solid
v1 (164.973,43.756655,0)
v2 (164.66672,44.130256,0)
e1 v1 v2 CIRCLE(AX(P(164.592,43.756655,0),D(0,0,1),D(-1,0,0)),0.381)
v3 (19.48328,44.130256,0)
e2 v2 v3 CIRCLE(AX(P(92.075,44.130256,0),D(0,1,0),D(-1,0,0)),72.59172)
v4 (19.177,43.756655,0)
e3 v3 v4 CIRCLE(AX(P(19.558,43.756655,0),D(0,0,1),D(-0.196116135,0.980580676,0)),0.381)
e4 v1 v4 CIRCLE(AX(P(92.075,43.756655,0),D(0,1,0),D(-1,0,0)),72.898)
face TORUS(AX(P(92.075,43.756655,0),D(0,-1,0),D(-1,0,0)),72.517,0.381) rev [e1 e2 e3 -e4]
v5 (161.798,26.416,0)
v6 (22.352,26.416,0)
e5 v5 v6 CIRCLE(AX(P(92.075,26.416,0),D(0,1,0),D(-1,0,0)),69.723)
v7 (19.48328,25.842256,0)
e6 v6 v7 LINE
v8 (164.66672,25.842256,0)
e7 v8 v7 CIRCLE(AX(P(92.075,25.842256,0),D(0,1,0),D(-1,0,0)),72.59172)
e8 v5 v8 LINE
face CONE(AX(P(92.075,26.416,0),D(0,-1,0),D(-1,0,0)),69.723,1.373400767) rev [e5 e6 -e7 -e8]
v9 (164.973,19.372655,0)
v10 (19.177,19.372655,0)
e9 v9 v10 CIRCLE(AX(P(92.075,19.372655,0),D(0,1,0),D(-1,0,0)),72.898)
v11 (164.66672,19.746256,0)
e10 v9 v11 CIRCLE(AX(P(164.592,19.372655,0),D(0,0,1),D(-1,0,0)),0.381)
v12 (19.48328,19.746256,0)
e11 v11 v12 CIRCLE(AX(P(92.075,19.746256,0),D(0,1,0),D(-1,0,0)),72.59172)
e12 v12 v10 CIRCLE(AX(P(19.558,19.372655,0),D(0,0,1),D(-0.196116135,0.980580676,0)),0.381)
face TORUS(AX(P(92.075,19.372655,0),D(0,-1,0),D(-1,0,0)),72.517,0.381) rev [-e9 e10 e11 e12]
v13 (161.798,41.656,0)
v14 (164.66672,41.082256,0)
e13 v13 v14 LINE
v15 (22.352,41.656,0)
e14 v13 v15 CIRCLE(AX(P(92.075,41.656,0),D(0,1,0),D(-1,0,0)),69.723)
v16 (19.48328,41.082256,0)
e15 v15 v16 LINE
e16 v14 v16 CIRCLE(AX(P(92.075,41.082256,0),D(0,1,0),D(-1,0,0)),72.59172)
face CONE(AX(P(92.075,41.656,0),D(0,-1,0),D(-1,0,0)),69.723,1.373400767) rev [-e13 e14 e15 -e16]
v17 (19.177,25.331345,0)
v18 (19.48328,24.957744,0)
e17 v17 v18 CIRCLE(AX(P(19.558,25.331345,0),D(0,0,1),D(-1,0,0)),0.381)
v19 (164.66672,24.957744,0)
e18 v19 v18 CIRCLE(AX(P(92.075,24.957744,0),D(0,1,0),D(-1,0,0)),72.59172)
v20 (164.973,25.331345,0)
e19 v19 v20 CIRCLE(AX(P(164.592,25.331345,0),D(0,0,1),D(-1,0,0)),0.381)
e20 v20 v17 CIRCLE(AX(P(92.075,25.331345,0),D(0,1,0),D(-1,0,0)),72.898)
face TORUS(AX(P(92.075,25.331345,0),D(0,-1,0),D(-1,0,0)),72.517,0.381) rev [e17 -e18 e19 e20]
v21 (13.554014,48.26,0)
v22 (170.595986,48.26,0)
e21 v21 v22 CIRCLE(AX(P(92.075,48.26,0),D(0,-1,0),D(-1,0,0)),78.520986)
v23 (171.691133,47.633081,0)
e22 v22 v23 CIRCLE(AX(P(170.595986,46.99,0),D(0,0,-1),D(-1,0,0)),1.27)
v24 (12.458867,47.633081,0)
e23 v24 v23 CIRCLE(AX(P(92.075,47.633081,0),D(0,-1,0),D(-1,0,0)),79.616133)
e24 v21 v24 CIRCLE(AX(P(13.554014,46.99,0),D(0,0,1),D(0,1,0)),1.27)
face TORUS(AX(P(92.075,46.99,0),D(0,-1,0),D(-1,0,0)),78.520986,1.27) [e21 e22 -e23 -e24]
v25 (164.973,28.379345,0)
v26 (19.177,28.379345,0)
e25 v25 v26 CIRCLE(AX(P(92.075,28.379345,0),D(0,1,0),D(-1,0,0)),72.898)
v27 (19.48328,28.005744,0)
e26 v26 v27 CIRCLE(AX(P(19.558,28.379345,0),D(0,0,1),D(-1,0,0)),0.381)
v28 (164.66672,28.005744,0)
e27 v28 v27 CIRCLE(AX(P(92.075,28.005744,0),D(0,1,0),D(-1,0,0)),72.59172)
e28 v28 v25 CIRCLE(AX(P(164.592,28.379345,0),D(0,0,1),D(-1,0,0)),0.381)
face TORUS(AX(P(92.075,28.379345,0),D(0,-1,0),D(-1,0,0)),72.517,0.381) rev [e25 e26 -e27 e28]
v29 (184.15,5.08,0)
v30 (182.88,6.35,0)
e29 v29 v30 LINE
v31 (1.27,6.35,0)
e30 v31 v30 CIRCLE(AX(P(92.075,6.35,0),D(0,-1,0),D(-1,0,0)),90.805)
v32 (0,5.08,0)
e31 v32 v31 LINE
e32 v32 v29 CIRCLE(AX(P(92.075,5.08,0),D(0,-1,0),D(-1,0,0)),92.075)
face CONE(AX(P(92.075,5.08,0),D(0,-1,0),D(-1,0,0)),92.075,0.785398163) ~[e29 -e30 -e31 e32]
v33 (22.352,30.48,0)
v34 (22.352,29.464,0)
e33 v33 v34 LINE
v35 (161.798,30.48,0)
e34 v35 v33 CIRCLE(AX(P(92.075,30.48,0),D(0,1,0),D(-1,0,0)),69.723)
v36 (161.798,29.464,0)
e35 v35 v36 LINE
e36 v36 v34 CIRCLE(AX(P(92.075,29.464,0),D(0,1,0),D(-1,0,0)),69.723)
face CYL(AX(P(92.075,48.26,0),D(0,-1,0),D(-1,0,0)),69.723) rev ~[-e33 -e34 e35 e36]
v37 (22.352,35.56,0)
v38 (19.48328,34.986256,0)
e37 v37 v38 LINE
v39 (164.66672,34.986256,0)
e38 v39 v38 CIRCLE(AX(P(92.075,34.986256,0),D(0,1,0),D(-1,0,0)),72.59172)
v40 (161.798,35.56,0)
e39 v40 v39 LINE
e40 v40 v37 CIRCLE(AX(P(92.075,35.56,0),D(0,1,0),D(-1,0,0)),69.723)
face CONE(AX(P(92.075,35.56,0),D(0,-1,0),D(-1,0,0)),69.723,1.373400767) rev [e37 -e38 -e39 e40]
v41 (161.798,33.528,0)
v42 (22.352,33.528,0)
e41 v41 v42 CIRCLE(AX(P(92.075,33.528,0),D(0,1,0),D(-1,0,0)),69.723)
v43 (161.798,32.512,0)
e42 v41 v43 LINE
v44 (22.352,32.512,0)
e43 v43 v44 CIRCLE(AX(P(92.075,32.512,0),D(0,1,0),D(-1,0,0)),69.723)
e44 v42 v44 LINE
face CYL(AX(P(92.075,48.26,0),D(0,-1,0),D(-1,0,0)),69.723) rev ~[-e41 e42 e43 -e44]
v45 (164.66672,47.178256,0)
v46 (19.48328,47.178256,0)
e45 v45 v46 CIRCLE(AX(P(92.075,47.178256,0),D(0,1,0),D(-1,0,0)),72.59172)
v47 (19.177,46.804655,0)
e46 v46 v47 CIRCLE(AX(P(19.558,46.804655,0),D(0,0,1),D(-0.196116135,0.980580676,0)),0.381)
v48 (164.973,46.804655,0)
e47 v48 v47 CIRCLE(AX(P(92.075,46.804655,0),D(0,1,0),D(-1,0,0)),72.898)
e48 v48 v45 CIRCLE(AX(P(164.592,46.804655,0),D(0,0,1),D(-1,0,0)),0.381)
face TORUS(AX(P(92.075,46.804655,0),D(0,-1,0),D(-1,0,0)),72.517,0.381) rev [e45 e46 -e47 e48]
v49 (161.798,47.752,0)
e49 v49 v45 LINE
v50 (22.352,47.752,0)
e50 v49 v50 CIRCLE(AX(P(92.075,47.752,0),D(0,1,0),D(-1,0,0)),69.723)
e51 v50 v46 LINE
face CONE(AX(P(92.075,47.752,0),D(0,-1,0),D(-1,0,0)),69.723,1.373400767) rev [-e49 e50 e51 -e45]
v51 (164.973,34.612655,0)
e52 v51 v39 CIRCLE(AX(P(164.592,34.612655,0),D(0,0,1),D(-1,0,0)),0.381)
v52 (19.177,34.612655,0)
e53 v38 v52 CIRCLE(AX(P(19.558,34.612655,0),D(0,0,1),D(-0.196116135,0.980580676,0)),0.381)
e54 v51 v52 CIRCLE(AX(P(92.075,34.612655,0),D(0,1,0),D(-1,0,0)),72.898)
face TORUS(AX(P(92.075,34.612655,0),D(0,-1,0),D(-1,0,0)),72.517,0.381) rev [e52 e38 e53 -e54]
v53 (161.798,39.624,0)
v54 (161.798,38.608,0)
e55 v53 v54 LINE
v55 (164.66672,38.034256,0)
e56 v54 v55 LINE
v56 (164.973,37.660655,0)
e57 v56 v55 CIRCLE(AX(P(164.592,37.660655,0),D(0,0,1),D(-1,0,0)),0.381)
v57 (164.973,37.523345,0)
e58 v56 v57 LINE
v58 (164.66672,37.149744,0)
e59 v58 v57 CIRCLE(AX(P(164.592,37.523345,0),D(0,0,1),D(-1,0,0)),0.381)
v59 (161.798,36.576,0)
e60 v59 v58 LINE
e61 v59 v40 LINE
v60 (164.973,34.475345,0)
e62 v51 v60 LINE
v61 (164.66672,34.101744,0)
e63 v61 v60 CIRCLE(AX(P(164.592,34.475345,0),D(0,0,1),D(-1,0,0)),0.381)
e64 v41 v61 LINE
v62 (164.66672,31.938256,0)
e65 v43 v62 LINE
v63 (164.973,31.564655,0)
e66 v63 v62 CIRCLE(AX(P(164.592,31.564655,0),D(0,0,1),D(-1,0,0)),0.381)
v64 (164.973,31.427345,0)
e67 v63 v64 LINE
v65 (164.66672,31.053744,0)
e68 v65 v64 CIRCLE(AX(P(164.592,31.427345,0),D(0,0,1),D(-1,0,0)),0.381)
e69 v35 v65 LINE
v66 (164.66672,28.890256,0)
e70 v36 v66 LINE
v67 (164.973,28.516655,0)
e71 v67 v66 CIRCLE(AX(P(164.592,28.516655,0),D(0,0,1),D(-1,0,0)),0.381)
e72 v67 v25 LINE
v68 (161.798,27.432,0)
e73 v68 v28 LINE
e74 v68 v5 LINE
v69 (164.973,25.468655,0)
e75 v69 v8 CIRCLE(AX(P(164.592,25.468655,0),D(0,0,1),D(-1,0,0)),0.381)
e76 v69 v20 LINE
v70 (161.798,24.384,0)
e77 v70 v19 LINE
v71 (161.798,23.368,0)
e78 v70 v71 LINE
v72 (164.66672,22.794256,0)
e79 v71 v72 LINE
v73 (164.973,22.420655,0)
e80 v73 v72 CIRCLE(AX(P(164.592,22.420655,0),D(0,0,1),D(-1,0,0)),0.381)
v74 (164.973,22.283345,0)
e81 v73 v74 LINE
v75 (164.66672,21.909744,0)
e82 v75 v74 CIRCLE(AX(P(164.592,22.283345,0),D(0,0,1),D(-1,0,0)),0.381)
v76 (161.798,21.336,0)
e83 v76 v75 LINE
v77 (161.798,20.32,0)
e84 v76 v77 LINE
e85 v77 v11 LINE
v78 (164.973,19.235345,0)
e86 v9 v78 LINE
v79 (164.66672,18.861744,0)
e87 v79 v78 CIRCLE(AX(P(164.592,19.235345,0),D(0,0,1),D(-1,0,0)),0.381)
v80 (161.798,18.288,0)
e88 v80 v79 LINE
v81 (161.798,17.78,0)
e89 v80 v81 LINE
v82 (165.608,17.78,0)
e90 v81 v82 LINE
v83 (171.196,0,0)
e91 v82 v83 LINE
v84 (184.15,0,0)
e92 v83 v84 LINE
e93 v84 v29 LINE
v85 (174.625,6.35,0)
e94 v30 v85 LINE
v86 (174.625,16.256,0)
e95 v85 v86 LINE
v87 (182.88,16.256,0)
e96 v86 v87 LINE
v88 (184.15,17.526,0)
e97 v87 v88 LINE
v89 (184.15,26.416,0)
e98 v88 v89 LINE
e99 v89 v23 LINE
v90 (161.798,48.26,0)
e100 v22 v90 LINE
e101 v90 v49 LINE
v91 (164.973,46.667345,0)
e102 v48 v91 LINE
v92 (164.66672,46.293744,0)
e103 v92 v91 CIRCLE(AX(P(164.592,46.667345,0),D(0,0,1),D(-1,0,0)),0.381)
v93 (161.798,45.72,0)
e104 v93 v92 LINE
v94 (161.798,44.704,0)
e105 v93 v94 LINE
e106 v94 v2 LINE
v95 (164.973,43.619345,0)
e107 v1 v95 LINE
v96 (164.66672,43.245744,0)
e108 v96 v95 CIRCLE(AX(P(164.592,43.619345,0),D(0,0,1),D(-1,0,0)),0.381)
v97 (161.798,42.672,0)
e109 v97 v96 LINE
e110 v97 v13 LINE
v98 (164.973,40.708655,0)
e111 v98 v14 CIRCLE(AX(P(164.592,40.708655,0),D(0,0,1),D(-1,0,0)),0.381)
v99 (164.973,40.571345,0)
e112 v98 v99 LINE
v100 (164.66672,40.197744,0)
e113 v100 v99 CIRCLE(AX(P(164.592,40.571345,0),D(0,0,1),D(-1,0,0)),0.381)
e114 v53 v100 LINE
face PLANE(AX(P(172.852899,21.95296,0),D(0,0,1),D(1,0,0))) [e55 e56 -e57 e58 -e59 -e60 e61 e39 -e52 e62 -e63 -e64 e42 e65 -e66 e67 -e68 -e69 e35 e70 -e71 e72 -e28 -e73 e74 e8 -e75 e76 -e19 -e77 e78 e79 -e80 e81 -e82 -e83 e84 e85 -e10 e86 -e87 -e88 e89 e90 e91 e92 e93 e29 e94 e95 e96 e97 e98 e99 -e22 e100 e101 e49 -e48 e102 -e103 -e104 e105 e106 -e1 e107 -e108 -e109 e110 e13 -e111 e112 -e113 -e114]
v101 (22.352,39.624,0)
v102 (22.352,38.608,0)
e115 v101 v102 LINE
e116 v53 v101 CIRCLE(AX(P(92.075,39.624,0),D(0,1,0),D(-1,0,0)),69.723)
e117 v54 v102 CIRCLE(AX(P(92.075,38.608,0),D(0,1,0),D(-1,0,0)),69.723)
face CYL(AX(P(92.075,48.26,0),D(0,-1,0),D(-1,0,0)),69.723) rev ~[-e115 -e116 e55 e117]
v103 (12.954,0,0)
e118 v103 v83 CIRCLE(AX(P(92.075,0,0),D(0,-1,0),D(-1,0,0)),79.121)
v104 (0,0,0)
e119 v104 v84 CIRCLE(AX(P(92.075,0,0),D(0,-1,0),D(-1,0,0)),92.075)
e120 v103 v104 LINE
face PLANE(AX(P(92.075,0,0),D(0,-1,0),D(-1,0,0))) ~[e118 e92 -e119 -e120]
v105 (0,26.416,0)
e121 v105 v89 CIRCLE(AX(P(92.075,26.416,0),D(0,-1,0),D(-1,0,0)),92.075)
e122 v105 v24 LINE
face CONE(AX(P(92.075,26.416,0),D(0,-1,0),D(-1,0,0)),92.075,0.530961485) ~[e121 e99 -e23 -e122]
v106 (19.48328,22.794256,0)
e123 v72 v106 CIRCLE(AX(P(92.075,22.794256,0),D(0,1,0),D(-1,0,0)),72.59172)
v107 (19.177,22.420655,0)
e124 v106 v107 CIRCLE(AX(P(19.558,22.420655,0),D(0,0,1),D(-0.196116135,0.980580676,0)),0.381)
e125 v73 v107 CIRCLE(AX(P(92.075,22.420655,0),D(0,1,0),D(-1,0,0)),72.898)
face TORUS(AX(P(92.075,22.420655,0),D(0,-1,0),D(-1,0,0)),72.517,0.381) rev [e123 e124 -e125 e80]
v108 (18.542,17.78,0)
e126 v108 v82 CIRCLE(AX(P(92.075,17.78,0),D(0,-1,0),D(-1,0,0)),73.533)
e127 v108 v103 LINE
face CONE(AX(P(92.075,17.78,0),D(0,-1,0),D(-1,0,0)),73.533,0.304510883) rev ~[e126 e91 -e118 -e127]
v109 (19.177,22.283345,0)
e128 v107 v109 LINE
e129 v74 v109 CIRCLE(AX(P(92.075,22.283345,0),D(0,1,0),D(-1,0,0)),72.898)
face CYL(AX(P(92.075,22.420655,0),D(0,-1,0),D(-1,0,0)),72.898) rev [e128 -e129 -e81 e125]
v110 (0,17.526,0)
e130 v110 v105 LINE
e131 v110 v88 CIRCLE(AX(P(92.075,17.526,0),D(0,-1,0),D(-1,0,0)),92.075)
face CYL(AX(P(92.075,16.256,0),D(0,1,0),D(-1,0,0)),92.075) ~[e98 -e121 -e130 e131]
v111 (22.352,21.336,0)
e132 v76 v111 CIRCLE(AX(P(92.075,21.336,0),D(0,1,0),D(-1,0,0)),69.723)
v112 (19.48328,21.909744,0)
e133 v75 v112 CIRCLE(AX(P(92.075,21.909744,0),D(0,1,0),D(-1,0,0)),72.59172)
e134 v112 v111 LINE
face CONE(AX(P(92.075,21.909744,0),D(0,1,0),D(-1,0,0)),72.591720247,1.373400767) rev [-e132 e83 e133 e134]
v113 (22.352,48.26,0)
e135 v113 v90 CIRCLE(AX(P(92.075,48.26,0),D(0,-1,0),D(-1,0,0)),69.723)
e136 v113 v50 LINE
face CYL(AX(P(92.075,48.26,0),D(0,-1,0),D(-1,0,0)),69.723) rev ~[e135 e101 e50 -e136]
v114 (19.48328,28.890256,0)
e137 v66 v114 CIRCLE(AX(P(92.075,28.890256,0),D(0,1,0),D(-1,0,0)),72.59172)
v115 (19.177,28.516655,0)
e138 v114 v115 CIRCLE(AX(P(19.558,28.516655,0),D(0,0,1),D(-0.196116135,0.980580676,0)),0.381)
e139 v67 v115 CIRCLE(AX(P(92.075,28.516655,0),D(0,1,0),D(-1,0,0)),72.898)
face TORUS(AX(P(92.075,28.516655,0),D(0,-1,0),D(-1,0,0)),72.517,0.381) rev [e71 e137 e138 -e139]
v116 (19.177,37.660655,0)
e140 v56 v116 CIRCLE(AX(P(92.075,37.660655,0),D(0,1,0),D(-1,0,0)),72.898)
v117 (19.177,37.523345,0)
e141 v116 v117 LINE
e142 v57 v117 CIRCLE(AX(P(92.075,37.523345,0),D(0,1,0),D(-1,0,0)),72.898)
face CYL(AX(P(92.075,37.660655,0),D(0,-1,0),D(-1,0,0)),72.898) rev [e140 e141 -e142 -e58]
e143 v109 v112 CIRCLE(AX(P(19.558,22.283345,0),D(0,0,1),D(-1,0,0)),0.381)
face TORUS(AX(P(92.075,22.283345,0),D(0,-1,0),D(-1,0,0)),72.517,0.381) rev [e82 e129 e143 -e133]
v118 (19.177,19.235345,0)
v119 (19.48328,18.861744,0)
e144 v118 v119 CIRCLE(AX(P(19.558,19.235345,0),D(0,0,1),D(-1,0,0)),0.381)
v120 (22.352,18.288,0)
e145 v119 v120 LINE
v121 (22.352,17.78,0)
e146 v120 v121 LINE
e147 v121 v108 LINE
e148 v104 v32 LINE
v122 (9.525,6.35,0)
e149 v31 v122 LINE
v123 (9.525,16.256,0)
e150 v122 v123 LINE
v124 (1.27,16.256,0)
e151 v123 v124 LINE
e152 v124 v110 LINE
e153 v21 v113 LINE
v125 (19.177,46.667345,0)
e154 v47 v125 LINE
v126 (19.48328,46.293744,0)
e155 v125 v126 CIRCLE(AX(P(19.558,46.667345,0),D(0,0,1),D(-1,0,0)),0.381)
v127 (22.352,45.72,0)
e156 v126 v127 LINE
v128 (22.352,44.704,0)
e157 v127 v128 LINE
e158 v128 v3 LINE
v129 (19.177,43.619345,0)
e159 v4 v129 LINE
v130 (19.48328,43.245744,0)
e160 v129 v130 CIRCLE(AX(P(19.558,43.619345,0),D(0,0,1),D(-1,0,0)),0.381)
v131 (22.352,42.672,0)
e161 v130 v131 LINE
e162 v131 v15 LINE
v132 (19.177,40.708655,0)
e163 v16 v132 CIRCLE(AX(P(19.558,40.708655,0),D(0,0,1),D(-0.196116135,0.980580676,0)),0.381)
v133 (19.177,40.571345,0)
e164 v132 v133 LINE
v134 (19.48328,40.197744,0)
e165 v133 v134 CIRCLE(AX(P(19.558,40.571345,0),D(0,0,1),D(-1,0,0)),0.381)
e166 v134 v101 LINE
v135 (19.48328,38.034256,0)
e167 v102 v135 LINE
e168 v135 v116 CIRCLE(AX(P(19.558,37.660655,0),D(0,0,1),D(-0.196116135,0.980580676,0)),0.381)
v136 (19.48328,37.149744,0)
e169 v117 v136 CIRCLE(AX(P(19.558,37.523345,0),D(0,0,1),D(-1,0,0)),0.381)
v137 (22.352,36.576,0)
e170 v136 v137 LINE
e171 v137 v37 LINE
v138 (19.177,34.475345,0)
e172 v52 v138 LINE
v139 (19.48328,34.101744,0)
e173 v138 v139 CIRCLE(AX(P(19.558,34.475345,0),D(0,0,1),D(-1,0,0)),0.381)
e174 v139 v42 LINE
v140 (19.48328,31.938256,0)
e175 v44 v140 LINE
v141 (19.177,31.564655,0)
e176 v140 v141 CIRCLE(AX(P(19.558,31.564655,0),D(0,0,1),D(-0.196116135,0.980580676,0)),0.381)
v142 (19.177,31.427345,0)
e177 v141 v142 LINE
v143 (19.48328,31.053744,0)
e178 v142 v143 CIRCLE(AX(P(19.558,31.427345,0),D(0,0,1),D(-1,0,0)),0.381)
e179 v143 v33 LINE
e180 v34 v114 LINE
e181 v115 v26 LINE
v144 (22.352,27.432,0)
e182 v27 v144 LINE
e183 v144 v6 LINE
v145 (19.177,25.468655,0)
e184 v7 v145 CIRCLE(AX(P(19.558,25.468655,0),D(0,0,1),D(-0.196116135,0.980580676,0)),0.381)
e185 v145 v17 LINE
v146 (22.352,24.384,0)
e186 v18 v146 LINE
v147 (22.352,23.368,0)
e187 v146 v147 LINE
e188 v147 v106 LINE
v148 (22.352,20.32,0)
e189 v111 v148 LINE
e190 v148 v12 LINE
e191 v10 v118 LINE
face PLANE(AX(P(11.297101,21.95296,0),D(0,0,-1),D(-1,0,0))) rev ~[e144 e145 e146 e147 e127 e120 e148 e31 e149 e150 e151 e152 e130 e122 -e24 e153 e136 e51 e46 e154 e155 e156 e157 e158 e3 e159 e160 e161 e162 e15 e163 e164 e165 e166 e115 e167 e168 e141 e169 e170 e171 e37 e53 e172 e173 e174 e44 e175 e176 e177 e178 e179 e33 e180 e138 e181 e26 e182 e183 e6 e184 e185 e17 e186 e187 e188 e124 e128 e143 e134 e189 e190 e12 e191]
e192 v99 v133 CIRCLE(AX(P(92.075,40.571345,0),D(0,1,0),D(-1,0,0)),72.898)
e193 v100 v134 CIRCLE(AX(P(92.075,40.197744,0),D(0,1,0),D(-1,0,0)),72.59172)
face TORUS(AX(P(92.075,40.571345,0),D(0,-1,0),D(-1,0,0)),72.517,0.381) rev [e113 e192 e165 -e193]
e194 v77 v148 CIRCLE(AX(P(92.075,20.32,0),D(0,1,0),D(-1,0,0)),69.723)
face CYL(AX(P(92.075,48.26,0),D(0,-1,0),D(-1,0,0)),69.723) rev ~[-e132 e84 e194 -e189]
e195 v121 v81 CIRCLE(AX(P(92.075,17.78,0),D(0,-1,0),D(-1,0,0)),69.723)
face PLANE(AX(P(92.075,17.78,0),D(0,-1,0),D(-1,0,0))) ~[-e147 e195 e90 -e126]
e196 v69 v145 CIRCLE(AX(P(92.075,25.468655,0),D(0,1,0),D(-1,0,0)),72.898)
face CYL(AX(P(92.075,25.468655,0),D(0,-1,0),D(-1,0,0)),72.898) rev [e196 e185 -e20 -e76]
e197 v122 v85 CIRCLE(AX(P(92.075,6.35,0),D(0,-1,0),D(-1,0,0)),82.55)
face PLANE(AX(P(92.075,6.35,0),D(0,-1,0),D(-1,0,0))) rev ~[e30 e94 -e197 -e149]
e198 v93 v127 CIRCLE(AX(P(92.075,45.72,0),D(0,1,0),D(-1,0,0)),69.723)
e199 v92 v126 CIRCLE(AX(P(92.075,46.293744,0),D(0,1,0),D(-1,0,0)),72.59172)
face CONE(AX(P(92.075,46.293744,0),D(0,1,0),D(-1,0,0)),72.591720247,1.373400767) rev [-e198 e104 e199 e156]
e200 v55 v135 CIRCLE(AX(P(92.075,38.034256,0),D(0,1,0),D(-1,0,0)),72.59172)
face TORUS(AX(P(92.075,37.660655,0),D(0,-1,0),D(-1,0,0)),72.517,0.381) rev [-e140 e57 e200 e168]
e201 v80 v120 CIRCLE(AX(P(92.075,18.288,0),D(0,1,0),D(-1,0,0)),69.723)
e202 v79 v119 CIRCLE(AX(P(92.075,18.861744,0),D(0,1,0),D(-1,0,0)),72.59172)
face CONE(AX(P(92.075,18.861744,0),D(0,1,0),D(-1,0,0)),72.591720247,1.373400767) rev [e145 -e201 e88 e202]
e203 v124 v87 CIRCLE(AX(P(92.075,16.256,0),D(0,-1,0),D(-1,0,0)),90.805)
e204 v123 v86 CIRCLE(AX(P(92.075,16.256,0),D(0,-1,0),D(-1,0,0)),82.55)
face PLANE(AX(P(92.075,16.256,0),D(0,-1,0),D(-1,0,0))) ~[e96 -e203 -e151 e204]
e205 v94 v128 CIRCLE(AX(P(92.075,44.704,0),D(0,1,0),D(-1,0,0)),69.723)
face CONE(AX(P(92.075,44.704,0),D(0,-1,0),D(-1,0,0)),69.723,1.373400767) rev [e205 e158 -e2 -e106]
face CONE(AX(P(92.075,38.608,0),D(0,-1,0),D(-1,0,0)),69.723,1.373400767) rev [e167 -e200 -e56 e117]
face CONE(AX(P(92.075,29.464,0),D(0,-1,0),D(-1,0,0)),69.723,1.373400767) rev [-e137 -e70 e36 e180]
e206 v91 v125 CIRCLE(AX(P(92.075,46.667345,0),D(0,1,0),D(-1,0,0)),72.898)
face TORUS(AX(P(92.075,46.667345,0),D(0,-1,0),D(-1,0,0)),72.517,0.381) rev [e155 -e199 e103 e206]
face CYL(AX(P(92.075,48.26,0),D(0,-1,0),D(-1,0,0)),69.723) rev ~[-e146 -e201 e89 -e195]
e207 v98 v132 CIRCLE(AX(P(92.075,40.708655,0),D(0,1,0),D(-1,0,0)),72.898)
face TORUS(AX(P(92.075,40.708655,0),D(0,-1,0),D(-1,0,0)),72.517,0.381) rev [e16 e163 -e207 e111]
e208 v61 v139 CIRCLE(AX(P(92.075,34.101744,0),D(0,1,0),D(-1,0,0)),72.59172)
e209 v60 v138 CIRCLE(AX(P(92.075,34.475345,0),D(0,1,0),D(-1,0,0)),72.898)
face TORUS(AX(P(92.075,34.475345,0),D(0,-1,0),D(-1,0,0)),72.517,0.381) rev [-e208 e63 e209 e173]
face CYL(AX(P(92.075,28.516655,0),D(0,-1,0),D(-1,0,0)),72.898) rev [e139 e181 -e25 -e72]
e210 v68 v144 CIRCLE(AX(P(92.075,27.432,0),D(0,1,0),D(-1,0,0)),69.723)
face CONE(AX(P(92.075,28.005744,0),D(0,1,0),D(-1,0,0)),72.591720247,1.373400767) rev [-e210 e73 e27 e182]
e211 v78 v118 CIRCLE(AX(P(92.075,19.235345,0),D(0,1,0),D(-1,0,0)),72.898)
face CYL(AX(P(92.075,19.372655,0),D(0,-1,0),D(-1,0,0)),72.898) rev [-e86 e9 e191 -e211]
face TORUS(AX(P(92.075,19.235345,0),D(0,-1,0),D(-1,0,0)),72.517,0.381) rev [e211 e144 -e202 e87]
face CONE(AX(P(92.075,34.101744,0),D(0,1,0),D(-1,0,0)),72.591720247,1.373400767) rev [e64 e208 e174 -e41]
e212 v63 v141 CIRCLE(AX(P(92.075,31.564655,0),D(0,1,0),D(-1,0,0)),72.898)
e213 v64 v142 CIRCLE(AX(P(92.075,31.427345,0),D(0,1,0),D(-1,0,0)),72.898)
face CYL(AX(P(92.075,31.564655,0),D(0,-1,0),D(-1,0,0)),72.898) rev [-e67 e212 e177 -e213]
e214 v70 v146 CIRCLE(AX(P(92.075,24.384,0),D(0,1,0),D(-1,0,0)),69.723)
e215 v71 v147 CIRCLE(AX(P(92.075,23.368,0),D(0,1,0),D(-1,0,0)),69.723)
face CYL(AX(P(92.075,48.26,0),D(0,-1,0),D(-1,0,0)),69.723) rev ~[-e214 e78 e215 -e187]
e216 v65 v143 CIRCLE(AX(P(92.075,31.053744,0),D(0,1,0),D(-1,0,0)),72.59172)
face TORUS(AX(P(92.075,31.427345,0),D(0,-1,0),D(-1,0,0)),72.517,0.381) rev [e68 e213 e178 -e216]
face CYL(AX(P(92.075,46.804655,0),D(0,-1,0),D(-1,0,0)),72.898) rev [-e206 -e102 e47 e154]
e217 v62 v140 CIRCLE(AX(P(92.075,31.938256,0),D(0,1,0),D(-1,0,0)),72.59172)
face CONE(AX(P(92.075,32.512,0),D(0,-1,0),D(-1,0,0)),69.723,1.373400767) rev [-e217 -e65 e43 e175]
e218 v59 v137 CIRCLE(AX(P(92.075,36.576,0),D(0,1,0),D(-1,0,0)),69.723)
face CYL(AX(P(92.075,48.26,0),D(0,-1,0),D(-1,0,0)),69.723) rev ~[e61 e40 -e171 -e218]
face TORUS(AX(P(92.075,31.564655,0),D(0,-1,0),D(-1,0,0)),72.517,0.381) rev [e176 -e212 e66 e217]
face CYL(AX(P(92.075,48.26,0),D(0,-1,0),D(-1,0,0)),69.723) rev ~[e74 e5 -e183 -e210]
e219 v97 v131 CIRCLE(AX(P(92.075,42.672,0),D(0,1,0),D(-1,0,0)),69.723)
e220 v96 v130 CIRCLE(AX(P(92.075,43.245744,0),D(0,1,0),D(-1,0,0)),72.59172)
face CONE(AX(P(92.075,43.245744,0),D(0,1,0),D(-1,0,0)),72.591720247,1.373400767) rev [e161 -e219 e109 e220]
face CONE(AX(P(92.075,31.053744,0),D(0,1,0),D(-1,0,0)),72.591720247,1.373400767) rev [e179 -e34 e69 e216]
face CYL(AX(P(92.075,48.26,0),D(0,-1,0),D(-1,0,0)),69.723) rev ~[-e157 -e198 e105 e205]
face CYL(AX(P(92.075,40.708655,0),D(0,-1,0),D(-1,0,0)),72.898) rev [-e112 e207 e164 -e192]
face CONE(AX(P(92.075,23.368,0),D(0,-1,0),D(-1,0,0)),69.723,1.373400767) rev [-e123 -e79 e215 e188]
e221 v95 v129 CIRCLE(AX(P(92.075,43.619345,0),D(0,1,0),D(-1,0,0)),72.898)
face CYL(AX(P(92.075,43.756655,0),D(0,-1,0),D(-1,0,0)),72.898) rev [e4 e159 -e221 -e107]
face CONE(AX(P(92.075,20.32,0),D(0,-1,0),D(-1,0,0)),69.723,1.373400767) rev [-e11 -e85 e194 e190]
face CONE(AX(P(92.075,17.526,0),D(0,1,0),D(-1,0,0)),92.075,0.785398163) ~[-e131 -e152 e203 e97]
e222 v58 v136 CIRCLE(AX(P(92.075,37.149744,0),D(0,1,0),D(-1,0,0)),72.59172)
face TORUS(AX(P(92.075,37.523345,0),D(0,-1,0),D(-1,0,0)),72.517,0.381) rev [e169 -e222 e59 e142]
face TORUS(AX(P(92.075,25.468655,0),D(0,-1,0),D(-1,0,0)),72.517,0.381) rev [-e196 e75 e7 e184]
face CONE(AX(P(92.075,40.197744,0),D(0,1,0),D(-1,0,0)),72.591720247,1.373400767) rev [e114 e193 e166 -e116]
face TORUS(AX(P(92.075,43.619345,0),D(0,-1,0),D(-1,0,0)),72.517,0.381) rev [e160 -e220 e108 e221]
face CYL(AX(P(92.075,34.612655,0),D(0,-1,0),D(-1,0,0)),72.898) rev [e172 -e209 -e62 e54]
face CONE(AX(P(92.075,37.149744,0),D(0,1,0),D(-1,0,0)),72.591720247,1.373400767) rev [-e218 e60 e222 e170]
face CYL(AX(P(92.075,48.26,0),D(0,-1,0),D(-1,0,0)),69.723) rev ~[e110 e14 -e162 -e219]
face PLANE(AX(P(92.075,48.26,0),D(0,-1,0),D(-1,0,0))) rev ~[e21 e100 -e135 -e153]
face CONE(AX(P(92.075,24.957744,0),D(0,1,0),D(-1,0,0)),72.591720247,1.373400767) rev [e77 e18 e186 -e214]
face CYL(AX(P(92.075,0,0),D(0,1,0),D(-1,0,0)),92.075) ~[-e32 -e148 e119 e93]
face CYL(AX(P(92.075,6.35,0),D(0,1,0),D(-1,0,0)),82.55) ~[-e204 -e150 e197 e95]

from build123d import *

# Parameters (mm, degrees)
REVOLVE1_ANGLE = 180
CHAMFER1_SIZE  = 1.27
FILLET1_R      = 1.27


with BuildPart() as part:
    # Sketch2 → Revolve1 (revolve)
    with BuildSketch(Plane.XY):
        Polygon((0, 0), (0, 6.35), (9.525, 6.35), (9.525, 16.256), (0, 16.256), (0, 26.416), (12.827, 48.26), (22.352, 48.26), (22.352, 17.78), (18.542, 17.78), (12.954, 0), align=None)
    revolve(axis=Axis((92.075, 0, 0), (0, -1, 0)), revolution_arc=REVOLVE1_ANGLE)

    # Chamfer1
    chamfer1_edges = [part.edges().sort_by_distance(p)[0] for p in [
        (92.075, 16.256, -92.075),
        (92.075, 6.35, -92.075),
    ]]
    chamfer(chamfer1_edges, length=CHAMFER1_SIZE)

    # Fillet1
    fillet1_edges = [part.edges().sort_by_distance(p)[0] for p in [
        (92.075, 48.26, -79.248),
    ]]
    fillet(fillet1_edges, radius=FILLET1_R)

    # Sketch3 → Cut-Revolve2 (revolve, cut)
    with BuildSketch(Plane.XY):
        with BuildLine():
            Line((22.352, 18.288), (22.352, 20.32))
            Line((22.352, 20.32), (19.483279753, 19.746255951))
            ThreePointArc((19.483279753, 19.746255951), (19.263356644, 19.614204486), (19.177, 19.372654713))
            Line((19.177, 19.372654713), (19.177, 19.235345287))
            ThreePointArc((19.177, 19.235345287), (19.263356644, 18.993795514), (19.483279753, 18.861744049))
            Line((19.483279753, 18.861744049), (22.352, 18.288))
        make_face()
        with BuildLine():
            Line((22.352, 21.336), (22.352, 23.368))
            Line((22.352, 23.368), (19.483279753, 22.794255951))
            ThreePointArc((19.483279753, 22.794255951), (19.263356644, 22.662204486), (19.177, 22.420654713))
            Line((19.177, 22.420654713), (19.177, 22.283345287))
            ThreePointArc((19.177, 22.283345287), (19.263356644, 22.041795514), (19.483279753, 21.909744049))
            Line((19.483279753, 21.909744049), (22.352, 21.336))
        make_face()
        with BuildLine():
            Line((22.352, 24.384), (22.352, 26.416))
            Line((22.352, 26.416), (19.483279753, 25.842255951))
            ThreePointArc((19.483279753, 25.842255951), (19.263356644, 25.710204486), (19.177, 25.468654713))
            Line((19.177, 25.468654713), (19.177, 25.331345287))
            ThreePointArc((19.177, 25.331345287), (19.263356644, 25.089795514), (19.483279753, 24.957744049))
            Line((19.483279753, 24.957744049), (22.352, 24.384))
        make_face()
        with BuildLine():
            Line((22.352, 27.432), (22.352, 29.464))
            Line((22.352, 29.464), (19.483279753, 28.890255951))
            ThreePointArc((19.483279753, 28.890255951), (19.263356644, 28.758204486), (19.177, 28.516654713))
            Line((19.177, 28.516654713), (19.177, 28.379345287))
            ThreePointArc((19.177, 28.379345287), (19.263356644, 28.137795514), (19.483279753, 28.005744049))
            Line((19.483279753, 28.005744049), (22.352, 27.432))
        make_face()
        with BuildLine():
            Line((22.352, 30.48), (22.352, 32.512))
            Line((22.352, 32.512), (19.483279753, 31.938255951))
            ThreePointArc((19.483279753, 31.938255951), (19.263356644, 31.806204486), (19.177, 31.564654713))
            Line((19.177, 31.564654713), (19.177, 31.427345287))
            ThreePointArc((19.177, 31.427345287), (19.263356644, 31.185795514), (19.483279753, 31.053744049))
            Line((19.483279753, 31.053744049), (22.352, 30.48))
        make_face()
        with BuildLine():
            Line((22.352, 33.528), (22.352, 35.56))
            Line((22.352, 35.56), (19.483279753, 34.986255951))
            ThreePointArc((19.483279753, 34.986255951), (19.263356644, 34.854204486), (19.177, 34.612654713))
            Line((19.177, 34.612654713), (19.177, 34.475345287))
            ThreePointArc((19.177, 34.475345287), (19.263356644, 34.233795514), (19.483279753, 34.101744049))
            Line((19.483279753, 34.101744049), (22.352, 33.528))
        make_face()
        with BuildLine():
            Line((22.352, 36.576), (22.352, 38.608))
            Line((22.352, 38.608), (19.483279753, 38.034255951))
            ThreePointArc((19.483279753, 38.034255951), (19.263356644, 37.902204486), (19.177, 37.660654713))
            Line((19.177, 37.660654713), (19.177, 37.523345287))
            ThreePointArc((19.177, 37.523345287), (19.263356644, 37.281795514), (19.483279753, 37.149744049))
            Line((19.483279753, 37.149744049), (22.352, 36.576))
        make_face()
        with BuildLine():
            Line((22.352, 39.624), (22.352, 41.656))
            Line((22.352, 41.656), (19.483279753, 41.082255951))
            ThreePointArc((19.483279753, 41.082255951), (19.263356644, 40.950204486), (19.177, 40.708654713))
            Line((19.177, 40.708654713), (19.177, 40.571345287))
            ThreePointArc((19.177, 40.571345287), (19.263356644, 40.329795514), (19.483279753, 40.197744049))
            Line((19.483279753, 40.197744049), (22.352, 39.624))
        make_face()
        with BuildLine():
            Line((22.352, 42.672), (22.352, 44.704))
            Line((22.352, 44.704), (19.483279753, 44.130255951))
            ThreePointArc((19.483279753, 44.130255951), (19.263356644, 43.998204486), (19.177, 43.756654713))
            Line((19.177, 43.756654713), (19.177, 43.619345287))
            ThreePointArc((19.177, 43.619345287), (19.263356644, 43.377795514), (19.483279753, 43.245744049))
            Line((19.483279753, 43.245744049), (22.352, 42.672))
        make_face()
        with BuildLine():
            Line((22.352, 45.72), (22.352, 47.752))
            Line((22.352, 47.752), (19.483279753, 47.178255951))
            ThreePointArc((19.483279753, 47.178255951), (19.263356644, 47.046204486), (19.177, 46.804654713))
            Line((19.177, 46.804654713), (19.177, 46.667345287))
            ThreePointArc((19.177, 46.667345287), (19.263356644, 46.425795514), (19.483279753, 46.293744049))
            Line((19.483279753, 46.293744049), (22.352, 45.72))
        make_face()
    revolve(axis=Axis((92.075, 0, 0), (0, 1, 0)), mode=Mode.SUBTRACT)


solid = part.part
